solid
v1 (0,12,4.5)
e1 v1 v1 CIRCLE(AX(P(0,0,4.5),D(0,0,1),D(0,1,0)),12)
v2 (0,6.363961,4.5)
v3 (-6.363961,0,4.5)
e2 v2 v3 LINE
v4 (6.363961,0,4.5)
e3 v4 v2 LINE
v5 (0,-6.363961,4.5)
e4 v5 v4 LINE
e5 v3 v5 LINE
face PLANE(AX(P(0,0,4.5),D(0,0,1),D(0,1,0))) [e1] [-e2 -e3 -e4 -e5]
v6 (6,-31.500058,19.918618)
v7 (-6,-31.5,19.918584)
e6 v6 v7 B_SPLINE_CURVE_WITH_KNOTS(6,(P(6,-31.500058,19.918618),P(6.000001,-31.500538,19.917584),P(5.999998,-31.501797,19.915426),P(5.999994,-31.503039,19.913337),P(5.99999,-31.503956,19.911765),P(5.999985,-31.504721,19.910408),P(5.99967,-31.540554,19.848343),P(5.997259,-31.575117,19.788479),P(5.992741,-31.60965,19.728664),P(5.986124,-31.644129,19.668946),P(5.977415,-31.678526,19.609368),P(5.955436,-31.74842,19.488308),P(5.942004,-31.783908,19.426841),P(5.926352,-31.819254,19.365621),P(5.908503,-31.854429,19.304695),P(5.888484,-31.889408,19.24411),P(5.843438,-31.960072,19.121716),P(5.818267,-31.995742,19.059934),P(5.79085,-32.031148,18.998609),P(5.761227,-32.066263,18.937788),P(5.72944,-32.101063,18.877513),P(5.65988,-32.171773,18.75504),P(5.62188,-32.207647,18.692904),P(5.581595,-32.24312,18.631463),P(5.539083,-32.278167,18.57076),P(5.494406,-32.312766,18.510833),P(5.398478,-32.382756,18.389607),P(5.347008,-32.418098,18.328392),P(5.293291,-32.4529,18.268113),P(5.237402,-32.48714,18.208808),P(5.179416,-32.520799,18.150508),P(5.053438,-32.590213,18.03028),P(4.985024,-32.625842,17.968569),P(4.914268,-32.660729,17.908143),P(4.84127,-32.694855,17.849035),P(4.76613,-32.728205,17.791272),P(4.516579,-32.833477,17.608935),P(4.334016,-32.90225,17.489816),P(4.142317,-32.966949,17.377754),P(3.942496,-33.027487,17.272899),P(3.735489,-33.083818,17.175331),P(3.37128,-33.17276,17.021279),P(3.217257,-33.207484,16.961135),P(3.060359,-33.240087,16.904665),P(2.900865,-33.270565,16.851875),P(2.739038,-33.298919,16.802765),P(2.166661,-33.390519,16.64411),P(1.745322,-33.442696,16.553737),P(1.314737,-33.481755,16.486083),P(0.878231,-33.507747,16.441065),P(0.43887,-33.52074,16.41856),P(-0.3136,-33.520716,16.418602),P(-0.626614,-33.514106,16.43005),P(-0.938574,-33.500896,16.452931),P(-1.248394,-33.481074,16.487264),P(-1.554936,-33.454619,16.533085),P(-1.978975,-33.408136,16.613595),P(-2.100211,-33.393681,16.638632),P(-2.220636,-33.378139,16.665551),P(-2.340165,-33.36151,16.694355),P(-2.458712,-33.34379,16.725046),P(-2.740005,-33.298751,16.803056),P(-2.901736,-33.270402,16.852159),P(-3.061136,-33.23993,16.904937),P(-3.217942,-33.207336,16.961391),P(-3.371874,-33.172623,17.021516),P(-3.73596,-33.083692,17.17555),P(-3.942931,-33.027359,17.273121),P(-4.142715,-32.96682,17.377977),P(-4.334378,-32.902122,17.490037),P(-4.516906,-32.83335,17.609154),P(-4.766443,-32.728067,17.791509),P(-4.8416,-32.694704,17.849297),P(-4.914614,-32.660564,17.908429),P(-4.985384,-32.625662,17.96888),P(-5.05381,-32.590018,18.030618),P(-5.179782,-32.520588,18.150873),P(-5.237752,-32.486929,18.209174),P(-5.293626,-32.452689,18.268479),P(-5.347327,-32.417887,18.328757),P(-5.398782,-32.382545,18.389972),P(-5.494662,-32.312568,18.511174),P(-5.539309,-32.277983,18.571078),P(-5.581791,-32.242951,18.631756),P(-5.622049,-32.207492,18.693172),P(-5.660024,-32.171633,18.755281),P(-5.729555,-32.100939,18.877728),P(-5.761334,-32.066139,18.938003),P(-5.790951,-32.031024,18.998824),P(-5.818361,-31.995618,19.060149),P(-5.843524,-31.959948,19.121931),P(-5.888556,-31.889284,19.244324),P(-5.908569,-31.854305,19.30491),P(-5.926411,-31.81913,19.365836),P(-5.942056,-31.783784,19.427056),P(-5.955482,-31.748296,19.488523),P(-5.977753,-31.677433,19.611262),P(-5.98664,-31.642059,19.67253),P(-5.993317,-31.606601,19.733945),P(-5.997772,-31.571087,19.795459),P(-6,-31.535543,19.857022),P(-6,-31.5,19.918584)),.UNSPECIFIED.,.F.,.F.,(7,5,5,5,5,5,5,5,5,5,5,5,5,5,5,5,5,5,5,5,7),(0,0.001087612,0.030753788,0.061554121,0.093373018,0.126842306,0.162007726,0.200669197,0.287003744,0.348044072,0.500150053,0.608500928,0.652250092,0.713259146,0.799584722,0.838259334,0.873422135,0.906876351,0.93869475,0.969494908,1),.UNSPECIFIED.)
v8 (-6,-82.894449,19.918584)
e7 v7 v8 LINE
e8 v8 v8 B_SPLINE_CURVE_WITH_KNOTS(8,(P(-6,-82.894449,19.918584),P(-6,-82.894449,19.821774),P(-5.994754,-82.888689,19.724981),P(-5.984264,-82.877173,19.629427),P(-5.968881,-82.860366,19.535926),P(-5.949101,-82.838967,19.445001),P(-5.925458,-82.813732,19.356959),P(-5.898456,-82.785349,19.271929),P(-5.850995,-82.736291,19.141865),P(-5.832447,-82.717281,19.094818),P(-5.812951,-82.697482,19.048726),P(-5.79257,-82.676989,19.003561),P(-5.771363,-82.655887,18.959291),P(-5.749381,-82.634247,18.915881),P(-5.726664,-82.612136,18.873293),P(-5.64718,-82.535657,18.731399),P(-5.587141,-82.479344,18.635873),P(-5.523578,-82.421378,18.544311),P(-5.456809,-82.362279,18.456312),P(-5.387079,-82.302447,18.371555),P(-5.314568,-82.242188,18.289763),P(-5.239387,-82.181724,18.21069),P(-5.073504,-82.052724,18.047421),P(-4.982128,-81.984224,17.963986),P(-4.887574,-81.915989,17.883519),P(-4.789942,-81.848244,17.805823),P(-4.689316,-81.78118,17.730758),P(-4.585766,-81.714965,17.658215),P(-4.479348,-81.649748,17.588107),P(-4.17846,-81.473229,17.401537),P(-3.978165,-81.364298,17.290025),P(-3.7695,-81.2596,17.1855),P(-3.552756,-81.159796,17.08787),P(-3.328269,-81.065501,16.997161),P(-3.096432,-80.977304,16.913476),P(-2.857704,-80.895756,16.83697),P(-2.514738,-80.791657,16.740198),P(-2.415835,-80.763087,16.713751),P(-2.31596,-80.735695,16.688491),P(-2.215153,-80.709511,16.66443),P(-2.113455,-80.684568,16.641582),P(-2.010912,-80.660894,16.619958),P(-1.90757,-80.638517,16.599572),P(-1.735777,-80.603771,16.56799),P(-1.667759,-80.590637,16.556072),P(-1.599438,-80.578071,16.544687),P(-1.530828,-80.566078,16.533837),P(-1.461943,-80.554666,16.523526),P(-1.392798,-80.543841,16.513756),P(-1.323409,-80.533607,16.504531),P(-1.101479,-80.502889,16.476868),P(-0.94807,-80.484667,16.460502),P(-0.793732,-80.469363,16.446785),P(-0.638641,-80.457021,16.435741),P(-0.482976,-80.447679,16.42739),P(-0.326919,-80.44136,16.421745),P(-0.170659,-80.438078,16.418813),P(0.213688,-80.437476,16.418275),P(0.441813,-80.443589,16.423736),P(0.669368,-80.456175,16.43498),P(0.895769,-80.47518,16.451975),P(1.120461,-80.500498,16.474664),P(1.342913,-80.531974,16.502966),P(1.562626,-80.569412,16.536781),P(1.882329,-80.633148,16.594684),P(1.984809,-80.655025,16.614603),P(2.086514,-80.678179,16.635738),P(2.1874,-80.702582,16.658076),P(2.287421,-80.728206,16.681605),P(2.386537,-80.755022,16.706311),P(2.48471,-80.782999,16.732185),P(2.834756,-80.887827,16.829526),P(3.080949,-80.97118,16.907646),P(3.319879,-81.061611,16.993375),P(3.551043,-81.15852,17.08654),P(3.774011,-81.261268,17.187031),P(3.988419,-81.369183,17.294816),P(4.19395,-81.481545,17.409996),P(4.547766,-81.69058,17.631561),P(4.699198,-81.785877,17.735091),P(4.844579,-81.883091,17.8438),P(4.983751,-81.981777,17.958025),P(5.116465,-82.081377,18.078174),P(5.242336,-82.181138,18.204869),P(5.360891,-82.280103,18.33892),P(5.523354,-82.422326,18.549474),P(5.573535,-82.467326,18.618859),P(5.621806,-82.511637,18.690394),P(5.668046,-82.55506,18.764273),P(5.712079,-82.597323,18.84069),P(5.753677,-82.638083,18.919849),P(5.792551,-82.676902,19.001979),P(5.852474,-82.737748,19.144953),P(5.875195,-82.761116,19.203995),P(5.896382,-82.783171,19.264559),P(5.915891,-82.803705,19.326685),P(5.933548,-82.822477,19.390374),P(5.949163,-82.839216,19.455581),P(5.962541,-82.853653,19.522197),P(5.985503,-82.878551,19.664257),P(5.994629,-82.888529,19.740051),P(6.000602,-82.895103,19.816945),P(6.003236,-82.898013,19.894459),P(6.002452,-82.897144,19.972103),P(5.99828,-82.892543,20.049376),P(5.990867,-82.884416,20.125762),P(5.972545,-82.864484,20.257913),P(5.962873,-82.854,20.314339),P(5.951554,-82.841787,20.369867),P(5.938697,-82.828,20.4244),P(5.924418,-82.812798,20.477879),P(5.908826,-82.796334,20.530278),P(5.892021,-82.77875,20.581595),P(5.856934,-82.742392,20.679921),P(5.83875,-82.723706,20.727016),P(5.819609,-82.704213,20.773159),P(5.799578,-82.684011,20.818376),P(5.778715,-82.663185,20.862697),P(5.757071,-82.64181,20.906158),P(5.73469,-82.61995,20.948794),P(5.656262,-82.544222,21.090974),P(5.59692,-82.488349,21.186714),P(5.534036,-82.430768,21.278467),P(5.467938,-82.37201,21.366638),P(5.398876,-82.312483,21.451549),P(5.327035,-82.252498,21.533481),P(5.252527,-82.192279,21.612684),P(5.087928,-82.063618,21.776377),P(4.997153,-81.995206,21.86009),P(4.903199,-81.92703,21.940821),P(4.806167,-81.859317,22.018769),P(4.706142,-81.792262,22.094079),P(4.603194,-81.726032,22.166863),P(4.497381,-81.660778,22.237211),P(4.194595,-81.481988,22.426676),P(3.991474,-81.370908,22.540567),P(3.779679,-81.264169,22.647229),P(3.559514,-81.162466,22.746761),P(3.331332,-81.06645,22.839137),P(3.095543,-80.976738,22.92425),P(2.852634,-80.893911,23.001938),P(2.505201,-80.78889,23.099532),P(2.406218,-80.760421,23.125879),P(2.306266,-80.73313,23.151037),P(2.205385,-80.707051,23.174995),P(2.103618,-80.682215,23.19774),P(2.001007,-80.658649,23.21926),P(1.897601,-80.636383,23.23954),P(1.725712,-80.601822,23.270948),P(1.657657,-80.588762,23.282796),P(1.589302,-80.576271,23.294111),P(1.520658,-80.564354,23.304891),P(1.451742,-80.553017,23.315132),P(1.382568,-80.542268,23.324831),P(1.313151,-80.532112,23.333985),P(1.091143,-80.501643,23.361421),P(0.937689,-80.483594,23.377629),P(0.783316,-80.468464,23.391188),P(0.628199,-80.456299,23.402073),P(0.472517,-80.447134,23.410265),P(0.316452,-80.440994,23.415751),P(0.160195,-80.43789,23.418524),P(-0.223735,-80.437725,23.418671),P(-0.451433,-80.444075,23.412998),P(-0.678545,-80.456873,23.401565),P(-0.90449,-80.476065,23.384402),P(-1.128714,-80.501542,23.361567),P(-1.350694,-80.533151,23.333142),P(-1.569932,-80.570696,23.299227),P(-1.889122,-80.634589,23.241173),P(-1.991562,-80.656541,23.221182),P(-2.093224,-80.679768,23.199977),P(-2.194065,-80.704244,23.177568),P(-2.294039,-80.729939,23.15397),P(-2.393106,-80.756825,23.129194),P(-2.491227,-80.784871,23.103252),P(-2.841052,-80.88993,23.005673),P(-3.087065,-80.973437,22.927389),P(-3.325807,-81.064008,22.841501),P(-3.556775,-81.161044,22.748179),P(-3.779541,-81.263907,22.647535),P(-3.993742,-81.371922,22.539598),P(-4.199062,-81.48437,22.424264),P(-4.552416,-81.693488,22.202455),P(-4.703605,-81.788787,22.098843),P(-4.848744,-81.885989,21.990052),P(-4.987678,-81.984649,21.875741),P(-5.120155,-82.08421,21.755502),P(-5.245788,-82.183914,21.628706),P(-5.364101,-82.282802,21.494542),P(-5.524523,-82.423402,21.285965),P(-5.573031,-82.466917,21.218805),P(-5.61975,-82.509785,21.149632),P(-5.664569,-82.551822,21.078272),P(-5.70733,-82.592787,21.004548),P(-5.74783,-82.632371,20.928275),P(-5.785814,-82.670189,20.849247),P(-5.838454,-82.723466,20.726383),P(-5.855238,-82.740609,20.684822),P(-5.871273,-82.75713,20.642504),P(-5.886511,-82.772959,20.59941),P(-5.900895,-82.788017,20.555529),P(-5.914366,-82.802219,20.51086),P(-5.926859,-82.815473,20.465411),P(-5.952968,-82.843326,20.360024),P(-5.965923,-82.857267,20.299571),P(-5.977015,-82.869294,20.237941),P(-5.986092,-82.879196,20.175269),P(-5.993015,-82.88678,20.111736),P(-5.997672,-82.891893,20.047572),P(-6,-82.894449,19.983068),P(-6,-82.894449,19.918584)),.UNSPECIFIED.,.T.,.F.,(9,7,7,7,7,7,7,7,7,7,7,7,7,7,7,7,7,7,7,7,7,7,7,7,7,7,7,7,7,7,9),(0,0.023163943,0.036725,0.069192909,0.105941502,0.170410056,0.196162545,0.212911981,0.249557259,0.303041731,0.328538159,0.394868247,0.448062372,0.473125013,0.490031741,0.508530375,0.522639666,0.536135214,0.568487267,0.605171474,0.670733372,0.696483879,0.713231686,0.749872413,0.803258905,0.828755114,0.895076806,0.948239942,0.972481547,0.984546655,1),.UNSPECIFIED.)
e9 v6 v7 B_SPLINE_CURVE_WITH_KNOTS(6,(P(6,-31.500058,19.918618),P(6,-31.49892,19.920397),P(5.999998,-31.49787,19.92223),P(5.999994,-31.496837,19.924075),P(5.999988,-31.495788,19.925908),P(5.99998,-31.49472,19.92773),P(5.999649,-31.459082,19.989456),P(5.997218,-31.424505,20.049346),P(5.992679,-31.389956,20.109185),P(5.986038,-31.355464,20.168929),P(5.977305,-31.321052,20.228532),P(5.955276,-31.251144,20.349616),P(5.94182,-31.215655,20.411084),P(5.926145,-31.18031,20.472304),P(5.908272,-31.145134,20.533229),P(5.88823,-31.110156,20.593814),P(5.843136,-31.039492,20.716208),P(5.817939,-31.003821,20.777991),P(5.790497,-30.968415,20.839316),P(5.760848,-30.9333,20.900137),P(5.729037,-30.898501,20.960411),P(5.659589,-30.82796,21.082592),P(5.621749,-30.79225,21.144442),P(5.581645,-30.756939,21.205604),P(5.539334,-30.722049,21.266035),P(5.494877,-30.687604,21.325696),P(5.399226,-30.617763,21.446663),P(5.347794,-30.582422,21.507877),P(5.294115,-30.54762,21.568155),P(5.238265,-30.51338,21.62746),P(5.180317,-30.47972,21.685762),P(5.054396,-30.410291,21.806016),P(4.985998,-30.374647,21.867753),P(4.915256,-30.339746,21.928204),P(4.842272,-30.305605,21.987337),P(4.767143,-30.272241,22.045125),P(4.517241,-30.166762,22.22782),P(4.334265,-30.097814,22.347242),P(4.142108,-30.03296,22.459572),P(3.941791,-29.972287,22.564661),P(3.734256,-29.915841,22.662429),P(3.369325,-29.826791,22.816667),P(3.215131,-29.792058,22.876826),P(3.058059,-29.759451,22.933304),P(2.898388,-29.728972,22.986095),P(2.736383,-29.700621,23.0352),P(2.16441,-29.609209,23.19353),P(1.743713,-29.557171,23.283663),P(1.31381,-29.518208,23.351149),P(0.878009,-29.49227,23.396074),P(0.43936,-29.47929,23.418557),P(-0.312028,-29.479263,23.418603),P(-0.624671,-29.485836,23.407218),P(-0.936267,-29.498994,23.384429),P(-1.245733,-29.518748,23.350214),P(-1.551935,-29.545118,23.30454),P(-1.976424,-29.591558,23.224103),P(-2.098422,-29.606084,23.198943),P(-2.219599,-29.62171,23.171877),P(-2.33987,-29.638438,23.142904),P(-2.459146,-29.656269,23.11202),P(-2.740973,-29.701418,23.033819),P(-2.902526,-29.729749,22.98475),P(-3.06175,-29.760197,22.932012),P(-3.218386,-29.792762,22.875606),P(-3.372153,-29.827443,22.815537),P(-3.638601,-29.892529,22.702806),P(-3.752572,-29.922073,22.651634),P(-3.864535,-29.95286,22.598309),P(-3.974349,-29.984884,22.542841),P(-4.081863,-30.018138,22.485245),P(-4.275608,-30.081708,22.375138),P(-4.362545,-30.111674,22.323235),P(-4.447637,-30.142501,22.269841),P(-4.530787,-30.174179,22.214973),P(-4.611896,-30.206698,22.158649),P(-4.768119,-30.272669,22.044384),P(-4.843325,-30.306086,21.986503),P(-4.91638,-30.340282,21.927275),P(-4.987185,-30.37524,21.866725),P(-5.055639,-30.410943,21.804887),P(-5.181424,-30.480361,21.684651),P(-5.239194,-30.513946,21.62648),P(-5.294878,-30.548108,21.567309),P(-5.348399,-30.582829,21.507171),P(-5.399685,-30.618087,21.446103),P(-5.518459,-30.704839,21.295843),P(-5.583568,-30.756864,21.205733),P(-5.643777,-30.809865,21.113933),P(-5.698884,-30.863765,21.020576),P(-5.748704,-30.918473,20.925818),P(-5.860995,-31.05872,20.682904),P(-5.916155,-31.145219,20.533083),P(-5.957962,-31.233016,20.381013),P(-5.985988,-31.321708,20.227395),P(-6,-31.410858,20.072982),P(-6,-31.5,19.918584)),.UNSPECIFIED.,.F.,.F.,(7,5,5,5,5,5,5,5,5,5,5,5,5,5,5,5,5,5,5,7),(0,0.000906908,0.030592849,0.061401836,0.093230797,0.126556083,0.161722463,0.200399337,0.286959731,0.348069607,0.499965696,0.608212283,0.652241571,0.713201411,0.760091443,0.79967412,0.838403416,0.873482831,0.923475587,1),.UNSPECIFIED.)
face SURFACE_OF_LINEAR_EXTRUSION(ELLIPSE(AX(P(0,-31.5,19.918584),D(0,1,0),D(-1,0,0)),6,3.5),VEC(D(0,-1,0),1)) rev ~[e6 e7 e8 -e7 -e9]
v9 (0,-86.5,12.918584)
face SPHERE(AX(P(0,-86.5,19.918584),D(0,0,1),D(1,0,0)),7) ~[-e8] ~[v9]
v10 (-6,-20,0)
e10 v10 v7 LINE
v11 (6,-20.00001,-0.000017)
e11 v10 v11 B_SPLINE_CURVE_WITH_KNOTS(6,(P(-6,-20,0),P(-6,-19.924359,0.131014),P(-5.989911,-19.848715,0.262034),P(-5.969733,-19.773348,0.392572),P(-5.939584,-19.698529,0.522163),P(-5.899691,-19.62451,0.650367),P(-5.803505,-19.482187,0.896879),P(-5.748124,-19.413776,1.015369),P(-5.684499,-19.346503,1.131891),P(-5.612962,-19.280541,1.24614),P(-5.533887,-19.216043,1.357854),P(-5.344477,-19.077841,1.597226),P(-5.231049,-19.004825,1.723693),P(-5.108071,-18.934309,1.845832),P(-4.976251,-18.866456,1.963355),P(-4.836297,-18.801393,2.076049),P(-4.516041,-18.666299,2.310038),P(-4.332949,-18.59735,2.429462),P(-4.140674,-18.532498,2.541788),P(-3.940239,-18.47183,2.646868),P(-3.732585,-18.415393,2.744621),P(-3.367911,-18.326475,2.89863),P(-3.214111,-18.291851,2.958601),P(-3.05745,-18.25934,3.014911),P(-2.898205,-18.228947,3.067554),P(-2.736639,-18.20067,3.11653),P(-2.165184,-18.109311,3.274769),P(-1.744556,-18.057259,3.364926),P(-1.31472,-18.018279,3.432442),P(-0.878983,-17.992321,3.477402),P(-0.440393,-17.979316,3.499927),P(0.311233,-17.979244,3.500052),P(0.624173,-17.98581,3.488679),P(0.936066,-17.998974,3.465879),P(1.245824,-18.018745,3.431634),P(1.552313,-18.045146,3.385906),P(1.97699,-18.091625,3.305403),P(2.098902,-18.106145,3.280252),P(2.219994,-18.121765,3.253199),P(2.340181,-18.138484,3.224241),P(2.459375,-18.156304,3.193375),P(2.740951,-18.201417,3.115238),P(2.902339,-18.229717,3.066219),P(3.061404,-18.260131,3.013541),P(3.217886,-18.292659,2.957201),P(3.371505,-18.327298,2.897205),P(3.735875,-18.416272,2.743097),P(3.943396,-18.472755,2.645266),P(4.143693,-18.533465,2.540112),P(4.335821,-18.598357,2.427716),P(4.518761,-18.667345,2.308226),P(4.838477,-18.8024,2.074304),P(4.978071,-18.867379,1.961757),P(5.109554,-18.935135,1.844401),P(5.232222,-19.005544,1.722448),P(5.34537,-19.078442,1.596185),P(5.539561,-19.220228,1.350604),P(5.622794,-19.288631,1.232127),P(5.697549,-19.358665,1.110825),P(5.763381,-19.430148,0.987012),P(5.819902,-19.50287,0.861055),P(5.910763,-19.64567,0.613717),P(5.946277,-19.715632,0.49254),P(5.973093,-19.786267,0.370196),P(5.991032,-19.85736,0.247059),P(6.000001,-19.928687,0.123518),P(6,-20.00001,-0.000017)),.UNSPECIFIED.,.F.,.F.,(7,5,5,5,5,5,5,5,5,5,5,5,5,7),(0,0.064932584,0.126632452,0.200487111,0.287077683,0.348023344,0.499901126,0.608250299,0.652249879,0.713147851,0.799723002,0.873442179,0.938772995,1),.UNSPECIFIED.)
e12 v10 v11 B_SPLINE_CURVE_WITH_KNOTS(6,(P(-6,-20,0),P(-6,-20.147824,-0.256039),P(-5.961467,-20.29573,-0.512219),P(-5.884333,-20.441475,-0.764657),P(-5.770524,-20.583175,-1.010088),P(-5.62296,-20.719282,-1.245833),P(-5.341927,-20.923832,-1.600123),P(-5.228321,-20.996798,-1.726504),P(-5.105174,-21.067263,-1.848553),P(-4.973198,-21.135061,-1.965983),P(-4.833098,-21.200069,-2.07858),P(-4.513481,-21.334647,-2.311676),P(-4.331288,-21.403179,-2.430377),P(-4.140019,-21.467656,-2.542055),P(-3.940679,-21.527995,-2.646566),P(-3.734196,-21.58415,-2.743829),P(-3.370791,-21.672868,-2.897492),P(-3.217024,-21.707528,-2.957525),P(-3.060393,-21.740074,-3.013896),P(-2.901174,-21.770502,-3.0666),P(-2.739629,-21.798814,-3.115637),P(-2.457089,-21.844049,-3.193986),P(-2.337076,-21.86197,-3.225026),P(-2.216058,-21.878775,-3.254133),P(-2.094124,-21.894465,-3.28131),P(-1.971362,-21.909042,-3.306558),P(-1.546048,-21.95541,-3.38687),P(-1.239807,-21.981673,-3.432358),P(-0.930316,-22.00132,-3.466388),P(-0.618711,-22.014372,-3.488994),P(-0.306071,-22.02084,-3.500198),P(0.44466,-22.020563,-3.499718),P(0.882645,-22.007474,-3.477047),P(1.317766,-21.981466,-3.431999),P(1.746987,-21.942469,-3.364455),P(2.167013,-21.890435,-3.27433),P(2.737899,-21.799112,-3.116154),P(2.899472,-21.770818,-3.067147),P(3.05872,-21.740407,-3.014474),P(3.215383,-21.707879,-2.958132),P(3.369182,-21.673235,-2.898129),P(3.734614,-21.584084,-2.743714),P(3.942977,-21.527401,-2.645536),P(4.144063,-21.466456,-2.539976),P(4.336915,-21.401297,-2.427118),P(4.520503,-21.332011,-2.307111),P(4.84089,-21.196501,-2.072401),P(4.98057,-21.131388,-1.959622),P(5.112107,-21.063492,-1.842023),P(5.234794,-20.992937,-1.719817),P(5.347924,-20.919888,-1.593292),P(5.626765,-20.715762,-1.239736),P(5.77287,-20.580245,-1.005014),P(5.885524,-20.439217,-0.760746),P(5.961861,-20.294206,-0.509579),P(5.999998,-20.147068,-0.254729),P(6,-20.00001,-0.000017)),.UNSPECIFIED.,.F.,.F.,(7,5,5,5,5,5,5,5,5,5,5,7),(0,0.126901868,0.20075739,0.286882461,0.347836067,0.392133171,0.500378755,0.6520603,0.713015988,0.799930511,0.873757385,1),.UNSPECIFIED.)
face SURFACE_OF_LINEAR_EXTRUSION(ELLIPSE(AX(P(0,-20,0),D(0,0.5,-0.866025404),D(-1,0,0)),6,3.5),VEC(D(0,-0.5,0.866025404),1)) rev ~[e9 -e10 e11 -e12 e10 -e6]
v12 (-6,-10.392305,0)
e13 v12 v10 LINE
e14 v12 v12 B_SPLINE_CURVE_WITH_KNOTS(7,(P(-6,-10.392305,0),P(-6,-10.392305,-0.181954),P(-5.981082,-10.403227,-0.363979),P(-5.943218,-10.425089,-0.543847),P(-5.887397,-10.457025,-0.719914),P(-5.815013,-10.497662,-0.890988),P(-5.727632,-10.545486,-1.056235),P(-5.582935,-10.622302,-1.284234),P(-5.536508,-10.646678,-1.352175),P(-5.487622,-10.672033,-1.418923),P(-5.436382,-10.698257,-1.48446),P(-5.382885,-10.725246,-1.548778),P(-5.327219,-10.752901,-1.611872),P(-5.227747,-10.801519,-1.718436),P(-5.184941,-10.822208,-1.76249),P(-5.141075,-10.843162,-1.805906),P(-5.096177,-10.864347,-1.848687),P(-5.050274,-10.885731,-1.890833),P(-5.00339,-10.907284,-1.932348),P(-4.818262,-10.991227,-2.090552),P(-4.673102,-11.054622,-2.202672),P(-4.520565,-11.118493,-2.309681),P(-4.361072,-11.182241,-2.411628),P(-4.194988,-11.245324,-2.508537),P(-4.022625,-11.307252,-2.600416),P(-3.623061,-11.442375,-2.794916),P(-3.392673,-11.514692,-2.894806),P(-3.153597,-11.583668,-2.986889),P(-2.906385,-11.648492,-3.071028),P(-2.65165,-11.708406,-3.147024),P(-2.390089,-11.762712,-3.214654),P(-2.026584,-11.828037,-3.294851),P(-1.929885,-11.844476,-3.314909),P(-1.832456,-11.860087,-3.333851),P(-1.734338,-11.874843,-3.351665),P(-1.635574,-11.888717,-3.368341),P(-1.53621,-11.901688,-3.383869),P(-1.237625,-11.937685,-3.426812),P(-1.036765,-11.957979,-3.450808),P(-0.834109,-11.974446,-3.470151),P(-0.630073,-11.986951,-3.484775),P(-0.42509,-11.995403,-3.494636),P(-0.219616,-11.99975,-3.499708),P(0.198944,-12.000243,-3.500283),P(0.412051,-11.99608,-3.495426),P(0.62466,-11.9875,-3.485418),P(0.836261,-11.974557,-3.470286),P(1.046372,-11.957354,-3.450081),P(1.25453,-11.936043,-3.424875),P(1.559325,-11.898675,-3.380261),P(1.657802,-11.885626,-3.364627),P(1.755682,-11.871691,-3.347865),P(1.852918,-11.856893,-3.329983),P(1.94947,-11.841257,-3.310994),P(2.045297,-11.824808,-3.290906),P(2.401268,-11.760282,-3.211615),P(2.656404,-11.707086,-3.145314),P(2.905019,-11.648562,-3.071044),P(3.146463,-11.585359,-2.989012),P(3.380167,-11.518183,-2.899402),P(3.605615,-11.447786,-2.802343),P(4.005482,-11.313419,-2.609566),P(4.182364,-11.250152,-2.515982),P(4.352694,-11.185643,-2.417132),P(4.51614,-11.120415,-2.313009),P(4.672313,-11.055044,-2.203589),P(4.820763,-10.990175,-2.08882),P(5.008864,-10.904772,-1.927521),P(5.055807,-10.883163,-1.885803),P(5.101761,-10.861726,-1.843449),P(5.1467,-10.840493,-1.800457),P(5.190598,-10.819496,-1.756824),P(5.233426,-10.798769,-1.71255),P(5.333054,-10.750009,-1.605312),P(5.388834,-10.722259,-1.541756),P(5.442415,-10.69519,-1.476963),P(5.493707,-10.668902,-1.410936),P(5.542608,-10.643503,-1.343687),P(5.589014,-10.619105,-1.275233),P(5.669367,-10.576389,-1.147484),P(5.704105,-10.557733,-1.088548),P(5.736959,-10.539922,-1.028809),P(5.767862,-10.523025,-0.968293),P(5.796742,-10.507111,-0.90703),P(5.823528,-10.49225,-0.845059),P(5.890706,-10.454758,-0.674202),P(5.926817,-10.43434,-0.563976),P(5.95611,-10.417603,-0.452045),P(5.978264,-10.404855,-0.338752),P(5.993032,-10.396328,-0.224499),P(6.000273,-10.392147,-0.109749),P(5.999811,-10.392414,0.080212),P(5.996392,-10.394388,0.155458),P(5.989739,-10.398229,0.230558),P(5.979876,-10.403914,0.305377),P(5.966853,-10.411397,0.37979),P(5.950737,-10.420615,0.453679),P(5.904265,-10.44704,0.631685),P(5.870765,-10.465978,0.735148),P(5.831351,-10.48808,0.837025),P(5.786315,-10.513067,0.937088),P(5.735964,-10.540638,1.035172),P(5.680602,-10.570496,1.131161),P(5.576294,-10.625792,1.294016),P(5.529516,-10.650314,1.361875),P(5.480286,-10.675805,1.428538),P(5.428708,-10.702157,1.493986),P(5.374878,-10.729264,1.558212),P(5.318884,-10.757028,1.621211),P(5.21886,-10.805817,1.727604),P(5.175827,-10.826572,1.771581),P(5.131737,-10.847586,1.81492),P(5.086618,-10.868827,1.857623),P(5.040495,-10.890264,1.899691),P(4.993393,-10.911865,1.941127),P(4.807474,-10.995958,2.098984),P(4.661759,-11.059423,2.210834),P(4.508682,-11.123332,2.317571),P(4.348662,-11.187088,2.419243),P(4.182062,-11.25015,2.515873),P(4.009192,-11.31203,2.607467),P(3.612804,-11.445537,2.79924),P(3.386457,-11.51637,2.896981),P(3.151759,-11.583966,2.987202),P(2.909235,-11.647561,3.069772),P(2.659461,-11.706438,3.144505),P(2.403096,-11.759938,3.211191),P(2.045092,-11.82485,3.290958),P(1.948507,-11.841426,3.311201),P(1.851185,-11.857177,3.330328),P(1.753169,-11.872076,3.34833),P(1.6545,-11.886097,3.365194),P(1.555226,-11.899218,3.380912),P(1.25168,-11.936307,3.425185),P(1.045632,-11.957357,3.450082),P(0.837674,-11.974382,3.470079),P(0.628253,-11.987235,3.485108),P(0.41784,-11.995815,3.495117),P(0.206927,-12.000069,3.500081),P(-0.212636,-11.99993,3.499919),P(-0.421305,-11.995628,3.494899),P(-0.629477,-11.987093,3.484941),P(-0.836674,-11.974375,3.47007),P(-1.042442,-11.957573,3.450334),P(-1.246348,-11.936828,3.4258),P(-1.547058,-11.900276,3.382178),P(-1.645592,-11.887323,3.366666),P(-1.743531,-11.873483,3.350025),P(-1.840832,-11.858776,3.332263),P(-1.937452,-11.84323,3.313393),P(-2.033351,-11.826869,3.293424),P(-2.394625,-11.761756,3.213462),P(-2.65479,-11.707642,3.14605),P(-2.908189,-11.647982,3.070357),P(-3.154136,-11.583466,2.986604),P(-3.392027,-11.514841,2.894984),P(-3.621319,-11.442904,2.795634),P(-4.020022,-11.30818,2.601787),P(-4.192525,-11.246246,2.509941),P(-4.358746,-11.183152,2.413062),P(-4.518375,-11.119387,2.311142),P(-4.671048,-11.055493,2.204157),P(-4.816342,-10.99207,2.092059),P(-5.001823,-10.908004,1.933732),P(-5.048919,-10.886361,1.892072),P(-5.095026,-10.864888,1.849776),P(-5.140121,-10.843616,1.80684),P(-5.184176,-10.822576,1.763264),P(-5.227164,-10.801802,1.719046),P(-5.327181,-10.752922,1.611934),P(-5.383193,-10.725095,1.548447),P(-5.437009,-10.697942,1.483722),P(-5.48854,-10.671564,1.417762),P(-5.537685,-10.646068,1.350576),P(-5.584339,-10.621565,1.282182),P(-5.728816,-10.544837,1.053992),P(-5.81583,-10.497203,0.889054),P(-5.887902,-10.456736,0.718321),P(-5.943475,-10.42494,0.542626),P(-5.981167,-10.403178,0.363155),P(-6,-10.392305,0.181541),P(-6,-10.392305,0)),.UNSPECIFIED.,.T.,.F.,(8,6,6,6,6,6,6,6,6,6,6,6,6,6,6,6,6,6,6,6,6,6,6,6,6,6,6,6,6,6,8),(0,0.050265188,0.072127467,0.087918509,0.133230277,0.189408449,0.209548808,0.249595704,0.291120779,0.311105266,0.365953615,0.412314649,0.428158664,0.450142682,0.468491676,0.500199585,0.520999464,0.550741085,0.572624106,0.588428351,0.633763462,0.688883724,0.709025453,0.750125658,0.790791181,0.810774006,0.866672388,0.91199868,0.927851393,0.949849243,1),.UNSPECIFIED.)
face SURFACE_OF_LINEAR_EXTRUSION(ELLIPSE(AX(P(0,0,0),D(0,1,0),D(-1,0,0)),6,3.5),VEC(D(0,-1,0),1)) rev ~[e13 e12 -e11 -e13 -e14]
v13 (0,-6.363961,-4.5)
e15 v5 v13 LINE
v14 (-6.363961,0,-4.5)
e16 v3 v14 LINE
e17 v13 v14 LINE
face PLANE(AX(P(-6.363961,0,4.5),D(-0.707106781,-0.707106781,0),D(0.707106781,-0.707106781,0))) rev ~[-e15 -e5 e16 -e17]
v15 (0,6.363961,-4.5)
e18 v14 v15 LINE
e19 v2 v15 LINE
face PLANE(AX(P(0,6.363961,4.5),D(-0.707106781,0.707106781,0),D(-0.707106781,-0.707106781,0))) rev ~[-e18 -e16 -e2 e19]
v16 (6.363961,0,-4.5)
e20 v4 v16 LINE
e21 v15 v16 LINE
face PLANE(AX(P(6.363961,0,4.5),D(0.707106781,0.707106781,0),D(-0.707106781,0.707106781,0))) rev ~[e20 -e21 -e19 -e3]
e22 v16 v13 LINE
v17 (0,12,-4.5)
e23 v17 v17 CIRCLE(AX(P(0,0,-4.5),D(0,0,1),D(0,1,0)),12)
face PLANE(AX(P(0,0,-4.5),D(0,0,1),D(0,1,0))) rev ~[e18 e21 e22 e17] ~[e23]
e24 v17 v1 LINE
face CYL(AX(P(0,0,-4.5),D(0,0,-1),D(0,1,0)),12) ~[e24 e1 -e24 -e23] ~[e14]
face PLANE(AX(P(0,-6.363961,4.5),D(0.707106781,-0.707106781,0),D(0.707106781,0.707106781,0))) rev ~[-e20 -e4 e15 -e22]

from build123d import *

# Parameters (mm, degrees)
BOSS_EXTRUDE1_DEPTH      = 4.5
BOSS_EXTRUDE1_DEPTH_BACK = 4.5
SKETCH1_R                = 12
SKETCH3_RX               = 6
SKETCH3_RY               = 3.5
CUT_EXTRUDE1_REACH       = 98.896


with BuildPart() as part:
    # Sketch1 → Boss-Extrude1 (new, two sides: drawn at the far end of the back side and taken through both)
    with BuildSketch(Plane(origin=(0, 0, 0), x_dir=(0, 1, 0), z_dir=(0, 0, 1)).offset(-BOSS_EXTRUDE1_DEPTH_BACK)):
        Circle(SKETCH1_R)
    extrude(amount=BOSS_EXTRUDE1_DEPTH + BOSS_EXTRUDE1_DEPTH_BACK)

    # Sweep1: sweep along a path in Sketch2
    with BuildLine(Plane.YZ) as sweep1_path:
        Line((0, 0), (-20, 0))
        Line((-20, 0), (-31.5, 19.918584287))
        Line((-31.5, 19.918584287), (-86.5, 19.918584287))
    # Sketch3 → Sweep1 (sweep)
    with BuildSketch(Plane(origin=(0, 0, 0), x_dir=(-1, 0, 0), z_dir=(0, 1, 0))):
        with Locations((0, 0)):
            Ellipse(SKETCH3_RX, SKETCH3_RY)
    sweep(path=sweep1_path.line, transition=Transition.RIGHT)

    # Sketch4 → Revolve1 (revolve)
    with BuildSketch(Plane.XZ.offset(86.5)):
        with BuildLine():
            Line((0, 26.918584287), (0, 12.918584287))
            ThreePointArc((0, 12.918584287), (7, 19.918584287), (0, 26.918584287))
        make_face()
    revolve(axis=Axis((0, -86.5, 26.918584287), (0, 0, -1)))

    # Sketch5 → Cut-Extrude1 (cut, up to next)
    with BuildSketch(Plane.XY.offset(4.5), mode=Mode.PRIVATE) as cut_extrude1_sk1:
        Polygon((0, 6.363961031), (-6.363961031, 0), (0, -6.363961031), (6.363961031, 0), align=None)
    cut_extrude1_tool1 = extrude(cut_extrude1_sk1.sketch, amount=-CUT_EXTRUDE1_REACH, mode=Mode.PRIVATE) & part.part
    add(cut_extrude1_tool1.solids().sort_by_distance((0, 0, 4.5))[0], mode=Mode.SUBTRACT)


solid = part.part
